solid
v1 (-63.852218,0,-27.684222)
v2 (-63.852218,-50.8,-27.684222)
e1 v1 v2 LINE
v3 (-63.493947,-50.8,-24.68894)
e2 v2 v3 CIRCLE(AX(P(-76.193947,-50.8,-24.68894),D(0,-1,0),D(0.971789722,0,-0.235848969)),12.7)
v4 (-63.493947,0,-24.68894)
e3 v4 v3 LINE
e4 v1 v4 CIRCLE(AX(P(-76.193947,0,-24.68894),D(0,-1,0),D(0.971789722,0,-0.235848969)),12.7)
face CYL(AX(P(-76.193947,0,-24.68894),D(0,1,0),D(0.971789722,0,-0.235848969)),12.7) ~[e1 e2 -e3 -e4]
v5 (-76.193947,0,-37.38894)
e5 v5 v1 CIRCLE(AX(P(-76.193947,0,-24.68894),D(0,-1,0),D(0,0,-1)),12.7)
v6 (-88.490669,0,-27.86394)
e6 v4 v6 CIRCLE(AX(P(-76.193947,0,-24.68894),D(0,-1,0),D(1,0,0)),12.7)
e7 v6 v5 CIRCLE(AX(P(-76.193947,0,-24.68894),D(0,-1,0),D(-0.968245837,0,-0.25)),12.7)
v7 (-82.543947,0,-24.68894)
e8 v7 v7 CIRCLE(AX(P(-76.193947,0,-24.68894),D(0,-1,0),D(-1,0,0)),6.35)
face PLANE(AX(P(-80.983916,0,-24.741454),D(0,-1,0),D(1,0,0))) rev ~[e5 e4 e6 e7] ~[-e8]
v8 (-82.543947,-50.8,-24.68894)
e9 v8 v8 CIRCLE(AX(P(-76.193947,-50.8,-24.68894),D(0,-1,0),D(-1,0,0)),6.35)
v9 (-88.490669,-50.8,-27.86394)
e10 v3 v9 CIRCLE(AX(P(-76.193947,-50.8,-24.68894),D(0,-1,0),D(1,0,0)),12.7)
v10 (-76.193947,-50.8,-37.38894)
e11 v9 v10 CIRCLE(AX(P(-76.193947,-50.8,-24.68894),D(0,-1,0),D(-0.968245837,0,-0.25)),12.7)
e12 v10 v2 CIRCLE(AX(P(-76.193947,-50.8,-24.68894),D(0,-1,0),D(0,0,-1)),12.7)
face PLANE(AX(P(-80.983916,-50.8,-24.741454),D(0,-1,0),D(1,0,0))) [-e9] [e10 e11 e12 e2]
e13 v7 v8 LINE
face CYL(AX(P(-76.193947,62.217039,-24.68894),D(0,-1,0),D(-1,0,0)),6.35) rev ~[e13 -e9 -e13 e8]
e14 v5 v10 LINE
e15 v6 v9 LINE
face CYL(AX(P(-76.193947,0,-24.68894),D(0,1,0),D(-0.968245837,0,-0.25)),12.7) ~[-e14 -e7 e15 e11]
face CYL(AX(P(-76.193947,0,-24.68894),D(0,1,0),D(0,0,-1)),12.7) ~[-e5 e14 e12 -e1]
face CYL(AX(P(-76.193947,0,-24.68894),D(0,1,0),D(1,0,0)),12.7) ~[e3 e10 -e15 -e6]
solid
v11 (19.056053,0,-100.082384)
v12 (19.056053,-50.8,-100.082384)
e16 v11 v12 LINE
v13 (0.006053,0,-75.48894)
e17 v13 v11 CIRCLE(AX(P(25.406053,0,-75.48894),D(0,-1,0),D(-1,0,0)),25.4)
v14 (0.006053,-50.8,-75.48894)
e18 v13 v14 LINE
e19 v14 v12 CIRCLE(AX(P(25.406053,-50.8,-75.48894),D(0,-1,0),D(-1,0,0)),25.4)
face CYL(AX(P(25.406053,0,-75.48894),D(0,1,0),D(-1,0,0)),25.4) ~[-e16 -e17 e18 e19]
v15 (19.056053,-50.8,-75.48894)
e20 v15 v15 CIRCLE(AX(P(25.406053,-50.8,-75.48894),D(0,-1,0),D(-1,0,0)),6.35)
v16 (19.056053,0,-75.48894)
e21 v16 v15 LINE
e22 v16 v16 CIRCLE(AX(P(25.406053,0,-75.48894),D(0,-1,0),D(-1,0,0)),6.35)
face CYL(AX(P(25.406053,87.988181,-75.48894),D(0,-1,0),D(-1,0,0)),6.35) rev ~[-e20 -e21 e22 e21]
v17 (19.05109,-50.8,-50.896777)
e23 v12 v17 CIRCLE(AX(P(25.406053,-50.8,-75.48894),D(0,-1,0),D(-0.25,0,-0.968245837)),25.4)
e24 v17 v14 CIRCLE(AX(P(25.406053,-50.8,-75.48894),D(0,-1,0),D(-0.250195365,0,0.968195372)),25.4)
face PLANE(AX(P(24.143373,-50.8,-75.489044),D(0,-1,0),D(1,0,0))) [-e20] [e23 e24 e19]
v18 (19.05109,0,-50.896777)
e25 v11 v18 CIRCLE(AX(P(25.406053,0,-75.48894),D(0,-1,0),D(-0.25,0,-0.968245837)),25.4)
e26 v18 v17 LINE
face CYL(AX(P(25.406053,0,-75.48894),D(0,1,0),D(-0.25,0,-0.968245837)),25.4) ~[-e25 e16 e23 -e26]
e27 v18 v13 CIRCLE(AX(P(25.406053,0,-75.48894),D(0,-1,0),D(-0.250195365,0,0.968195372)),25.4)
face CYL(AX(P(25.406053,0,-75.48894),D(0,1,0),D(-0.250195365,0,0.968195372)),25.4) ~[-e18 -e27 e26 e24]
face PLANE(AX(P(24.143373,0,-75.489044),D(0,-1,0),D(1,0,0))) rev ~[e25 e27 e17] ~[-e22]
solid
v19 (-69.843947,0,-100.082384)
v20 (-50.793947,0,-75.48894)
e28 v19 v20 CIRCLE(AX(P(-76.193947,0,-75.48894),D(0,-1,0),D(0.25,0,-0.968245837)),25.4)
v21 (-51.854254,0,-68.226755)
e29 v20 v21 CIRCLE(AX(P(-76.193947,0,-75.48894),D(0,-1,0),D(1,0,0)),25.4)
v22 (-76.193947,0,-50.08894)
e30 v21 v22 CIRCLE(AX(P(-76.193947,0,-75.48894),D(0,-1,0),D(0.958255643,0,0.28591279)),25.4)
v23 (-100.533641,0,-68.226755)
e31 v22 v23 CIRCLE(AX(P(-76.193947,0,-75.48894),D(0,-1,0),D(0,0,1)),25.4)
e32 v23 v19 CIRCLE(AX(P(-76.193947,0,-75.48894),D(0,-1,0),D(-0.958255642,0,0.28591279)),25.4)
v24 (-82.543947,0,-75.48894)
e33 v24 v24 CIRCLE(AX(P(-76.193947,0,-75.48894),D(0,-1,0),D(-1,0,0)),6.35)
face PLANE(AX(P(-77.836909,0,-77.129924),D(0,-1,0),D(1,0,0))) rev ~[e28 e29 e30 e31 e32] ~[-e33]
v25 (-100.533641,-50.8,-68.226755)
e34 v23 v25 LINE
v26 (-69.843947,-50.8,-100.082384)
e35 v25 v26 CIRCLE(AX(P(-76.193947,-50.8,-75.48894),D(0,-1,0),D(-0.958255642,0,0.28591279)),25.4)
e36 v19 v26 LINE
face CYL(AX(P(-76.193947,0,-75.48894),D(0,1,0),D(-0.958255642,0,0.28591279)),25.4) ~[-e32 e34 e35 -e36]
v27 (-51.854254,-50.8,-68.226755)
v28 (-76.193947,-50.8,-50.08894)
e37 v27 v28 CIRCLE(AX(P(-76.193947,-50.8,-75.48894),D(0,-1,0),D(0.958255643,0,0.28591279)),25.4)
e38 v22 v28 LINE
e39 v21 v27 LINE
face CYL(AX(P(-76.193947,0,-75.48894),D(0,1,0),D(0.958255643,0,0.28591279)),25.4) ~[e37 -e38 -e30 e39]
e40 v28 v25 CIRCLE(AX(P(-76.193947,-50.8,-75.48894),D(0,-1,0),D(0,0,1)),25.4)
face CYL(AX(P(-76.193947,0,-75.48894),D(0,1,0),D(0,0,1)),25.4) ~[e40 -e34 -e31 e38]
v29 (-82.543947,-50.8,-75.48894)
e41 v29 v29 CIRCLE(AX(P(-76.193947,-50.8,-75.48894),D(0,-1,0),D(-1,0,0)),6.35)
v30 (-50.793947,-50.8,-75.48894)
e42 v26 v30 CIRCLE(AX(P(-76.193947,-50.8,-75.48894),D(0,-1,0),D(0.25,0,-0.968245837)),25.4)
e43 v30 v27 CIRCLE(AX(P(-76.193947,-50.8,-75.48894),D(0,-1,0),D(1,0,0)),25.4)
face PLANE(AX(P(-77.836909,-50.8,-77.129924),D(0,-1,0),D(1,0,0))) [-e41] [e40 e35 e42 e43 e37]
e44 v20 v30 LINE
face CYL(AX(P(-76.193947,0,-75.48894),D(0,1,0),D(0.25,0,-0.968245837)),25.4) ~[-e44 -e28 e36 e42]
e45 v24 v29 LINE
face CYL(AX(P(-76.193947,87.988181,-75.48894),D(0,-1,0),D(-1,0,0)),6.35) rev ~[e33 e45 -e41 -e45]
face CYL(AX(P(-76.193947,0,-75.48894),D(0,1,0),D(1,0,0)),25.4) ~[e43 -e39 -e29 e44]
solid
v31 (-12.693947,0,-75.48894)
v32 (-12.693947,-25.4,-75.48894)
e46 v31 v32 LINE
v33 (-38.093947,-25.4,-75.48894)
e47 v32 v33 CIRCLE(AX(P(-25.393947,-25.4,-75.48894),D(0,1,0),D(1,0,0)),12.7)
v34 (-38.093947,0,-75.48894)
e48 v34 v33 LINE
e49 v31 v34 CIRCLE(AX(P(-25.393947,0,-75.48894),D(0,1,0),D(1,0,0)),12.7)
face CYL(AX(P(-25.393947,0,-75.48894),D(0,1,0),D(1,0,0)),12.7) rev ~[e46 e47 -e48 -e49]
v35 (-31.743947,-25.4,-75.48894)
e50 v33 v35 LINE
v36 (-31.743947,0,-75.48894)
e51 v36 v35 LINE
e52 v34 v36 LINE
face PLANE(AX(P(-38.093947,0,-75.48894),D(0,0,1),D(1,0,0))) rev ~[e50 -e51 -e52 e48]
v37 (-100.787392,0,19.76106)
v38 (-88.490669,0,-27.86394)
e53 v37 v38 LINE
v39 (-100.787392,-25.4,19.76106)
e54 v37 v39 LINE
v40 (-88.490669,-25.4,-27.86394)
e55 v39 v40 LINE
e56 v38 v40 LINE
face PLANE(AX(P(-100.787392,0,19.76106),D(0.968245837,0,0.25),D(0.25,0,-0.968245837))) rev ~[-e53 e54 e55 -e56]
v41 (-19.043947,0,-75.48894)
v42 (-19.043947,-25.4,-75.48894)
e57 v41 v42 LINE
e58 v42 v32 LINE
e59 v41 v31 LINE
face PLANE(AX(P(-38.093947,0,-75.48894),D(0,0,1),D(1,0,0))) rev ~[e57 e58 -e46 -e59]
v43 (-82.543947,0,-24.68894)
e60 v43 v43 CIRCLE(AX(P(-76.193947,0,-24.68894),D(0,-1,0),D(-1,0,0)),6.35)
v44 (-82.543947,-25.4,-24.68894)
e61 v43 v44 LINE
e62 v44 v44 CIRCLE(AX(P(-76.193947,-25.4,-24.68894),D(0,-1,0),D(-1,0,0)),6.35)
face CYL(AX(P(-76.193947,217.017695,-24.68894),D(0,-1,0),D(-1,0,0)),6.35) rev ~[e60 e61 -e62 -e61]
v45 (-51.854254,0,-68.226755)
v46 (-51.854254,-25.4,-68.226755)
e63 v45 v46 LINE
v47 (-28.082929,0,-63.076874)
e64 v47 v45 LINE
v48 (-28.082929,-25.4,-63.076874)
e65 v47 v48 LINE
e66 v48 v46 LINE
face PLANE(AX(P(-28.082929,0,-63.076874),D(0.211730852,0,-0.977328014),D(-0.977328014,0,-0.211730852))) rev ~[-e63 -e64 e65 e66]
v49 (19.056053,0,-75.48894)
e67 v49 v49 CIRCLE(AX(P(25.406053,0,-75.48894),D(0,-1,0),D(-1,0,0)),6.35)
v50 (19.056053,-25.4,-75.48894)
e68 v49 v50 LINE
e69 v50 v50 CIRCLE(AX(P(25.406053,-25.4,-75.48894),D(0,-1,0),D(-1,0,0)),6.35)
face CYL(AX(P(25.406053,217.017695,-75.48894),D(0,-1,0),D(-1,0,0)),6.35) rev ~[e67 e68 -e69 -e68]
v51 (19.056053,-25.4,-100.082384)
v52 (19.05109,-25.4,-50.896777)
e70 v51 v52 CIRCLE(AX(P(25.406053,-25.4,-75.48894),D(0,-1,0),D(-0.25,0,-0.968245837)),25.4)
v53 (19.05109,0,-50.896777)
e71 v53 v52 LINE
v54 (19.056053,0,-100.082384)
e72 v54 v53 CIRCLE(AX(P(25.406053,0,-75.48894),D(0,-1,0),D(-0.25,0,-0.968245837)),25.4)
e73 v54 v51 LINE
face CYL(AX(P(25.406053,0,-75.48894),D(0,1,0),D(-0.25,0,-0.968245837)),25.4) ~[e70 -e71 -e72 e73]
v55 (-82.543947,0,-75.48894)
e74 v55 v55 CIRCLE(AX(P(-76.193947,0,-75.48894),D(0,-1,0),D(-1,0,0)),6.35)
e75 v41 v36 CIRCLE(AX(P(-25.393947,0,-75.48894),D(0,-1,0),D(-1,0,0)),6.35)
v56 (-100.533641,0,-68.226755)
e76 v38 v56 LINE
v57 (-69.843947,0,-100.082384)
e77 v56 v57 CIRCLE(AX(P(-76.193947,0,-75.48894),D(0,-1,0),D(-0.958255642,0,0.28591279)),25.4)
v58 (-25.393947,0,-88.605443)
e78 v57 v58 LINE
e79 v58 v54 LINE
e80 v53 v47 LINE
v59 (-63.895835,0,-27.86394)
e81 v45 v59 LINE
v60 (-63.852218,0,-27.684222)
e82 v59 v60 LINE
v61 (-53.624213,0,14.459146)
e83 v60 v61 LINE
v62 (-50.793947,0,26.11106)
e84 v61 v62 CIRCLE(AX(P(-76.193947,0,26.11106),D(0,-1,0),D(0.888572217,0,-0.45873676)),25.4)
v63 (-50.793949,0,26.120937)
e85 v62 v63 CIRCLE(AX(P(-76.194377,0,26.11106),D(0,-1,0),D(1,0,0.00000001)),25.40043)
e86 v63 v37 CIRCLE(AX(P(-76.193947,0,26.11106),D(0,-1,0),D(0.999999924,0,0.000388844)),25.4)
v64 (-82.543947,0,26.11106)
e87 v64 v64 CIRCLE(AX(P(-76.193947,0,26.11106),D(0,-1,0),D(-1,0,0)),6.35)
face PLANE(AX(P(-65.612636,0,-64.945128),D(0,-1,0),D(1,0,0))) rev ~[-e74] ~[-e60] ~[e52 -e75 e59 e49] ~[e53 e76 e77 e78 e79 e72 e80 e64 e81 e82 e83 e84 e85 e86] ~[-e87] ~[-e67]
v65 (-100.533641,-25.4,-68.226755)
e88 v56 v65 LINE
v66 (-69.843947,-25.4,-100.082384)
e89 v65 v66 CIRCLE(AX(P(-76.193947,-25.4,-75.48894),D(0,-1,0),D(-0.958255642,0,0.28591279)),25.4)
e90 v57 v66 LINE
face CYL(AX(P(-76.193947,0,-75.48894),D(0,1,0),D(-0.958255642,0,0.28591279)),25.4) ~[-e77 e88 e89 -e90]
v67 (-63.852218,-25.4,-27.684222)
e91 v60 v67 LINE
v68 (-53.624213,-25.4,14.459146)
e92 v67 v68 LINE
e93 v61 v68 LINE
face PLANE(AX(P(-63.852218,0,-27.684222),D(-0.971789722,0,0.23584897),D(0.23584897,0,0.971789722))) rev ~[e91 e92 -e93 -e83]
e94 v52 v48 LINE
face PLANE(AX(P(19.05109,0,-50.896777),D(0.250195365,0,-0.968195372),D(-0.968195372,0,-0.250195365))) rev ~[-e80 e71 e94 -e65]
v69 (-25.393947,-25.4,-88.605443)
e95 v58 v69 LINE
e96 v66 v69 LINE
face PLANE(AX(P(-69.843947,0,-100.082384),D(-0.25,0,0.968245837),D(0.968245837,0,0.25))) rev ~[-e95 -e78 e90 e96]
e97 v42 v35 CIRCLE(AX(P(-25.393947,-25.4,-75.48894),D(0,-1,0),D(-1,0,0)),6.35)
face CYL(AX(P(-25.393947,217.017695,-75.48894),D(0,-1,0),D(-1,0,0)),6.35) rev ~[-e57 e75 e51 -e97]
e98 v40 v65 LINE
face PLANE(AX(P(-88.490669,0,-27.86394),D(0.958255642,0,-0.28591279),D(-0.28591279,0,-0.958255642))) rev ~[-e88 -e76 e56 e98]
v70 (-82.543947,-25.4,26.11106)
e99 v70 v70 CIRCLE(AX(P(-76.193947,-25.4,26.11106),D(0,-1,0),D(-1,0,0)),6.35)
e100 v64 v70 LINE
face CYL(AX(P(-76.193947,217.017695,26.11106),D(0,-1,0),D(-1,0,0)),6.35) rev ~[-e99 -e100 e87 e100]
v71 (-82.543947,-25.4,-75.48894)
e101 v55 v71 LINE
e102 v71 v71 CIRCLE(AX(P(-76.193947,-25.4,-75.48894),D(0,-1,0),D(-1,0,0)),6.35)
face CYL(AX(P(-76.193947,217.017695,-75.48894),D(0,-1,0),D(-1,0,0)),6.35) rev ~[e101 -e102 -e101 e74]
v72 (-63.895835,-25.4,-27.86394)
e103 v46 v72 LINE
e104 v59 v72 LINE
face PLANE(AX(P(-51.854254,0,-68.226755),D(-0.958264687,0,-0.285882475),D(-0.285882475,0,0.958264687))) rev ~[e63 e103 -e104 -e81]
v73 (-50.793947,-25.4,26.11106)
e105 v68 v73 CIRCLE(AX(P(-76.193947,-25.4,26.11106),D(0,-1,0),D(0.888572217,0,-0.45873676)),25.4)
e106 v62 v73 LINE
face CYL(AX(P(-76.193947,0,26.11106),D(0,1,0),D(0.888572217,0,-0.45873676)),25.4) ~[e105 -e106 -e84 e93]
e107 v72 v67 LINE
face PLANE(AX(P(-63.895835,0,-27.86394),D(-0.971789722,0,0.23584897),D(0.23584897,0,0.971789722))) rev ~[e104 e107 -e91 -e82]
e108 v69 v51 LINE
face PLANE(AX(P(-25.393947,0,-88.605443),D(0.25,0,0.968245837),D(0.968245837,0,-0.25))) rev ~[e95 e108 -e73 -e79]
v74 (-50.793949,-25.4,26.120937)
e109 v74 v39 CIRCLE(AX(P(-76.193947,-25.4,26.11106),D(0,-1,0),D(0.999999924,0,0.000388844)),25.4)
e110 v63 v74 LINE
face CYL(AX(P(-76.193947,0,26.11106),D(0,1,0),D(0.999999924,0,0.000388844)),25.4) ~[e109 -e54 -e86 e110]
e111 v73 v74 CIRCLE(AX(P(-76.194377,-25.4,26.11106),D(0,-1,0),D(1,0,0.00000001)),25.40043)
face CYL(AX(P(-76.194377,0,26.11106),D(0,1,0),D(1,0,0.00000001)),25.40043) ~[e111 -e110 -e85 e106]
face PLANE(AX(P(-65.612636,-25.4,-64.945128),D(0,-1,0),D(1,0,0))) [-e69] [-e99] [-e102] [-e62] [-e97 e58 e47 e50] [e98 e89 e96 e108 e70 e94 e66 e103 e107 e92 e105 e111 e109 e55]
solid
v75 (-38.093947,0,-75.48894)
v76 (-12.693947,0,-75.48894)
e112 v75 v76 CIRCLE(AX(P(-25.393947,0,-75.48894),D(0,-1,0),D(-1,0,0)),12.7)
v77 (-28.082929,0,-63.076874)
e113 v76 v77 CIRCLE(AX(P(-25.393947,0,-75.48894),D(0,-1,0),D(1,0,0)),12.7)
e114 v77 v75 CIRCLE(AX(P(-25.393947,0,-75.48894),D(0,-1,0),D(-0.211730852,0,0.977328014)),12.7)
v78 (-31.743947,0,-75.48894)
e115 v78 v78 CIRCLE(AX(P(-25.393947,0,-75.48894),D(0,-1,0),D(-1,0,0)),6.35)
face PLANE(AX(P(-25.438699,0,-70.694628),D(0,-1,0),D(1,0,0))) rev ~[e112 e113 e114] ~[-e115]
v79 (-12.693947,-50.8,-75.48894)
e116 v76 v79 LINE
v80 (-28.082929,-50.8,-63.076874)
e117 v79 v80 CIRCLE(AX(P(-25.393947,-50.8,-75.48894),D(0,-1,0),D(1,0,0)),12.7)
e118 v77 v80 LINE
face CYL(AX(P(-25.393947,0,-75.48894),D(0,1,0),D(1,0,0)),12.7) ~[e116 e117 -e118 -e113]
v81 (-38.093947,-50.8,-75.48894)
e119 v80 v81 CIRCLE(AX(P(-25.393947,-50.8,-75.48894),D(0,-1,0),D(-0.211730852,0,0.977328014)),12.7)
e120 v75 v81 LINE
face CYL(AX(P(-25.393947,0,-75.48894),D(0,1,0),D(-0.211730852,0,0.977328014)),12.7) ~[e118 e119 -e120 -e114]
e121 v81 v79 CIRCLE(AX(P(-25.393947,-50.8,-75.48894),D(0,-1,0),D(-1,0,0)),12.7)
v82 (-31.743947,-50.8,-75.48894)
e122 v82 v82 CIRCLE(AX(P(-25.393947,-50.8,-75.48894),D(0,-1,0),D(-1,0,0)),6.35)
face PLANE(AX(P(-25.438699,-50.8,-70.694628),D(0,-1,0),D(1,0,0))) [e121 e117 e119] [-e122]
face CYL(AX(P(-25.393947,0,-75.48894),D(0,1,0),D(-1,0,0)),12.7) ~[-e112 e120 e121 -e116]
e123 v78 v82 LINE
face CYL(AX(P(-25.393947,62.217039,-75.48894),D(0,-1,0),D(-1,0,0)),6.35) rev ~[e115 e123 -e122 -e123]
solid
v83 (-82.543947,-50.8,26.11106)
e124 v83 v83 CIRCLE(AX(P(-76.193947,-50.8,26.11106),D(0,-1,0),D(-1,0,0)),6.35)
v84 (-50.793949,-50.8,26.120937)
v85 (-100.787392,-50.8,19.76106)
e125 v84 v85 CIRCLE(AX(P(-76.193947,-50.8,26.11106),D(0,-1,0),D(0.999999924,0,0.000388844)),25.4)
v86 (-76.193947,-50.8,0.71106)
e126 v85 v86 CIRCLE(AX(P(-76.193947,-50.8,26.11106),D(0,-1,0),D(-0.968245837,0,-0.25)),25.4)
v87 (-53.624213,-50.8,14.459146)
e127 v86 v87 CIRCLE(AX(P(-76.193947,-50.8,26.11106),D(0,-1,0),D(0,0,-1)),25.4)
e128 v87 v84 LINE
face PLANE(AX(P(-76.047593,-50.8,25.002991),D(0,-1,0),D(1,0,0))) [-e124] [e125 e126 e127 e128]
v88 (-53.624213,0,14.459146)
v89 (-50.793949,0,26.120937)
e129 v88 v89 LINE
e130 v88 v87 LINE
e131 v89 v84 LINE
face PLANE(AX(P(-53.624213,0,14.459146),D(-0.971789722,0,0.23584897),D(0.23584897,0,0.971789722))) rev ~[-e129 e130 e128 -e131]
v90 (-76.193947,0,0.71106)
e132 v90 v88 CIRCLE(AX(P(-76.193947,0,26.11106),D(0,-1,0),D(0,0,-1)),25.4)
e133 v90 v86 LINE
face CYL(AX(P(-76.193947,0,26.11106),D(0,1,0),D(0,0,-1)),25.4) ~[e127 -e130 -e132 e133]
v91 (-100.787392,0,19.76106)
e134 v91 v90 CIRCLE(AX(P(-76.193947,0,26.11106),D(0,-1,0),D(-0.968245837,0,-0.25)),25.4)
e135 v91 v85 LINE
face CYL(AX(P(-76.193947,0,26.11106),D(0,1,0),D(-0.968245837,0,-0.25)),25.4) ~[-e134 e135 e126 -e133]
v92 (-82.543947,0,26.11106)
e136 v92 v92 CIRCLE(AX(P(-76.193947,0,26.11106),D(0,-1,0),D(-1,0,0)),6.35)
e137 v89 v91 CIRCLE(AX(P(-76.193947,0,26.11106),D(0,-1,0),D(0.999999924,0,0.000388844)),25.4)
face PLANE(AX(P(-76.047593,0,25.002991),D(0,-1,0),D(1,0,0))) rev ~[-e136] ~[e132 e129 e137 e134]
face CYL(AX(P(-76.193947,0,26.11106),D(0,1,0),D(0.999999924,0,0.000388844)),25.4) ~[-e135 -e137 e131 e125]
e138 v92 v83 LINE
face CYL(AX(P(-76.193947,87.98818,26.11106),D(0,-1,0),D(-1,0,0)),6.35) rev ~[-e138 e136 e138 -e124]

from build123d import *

# Parameters (mm, degrees)
F1_DEPTH = 50.8
F2_DEPTH = 25.4
F3_D     = 12.7
F3_2_D   = 12.7
F3_3_D   = 12.7
F3_4_D   = 12.7
F3_5_D   = 12.7
F3_6_D   = 12.7


with BuildPart() as f1:
    # F0 (on Front) → F1 (new body)
    with BuildSketch(Plane.XZ):
        with BuildLine():
            ThreePointArc((-50.7939492653, 26.1209367481), (-79.3993552685, 51.3079916788), (-100.7873915934, 19.7610601187))
            ThreePointArc((-100.7873915934, 19.7610601187), (-91.7482072117, 6.0305969766), (-76.193947345, 0.7110601187))
            ThreePointArc((-76.193947345, 0.7110601187), (-62.9802916851, 4.4186811781), (-53.6242130328, 14.45914641))
            Line((-53.6242130328, 14.45914641), (-50.7939492653, 26.1209367481))
        make_face()
    extrude(amount=F1_DEPTH)

    # F3 (through all)
    with Locations(Plane(origin=(0, 0, 0), x_dir=(1, 0, 0), z_dir=(0, 1, 0))):
        with Locations((-76.193947345, -26.1110601187), (-76.193947345, 24.6889398813), (-76.193947345, 75.4889398813), (-25.393947345, 75.4889398813), (25.406052655, 75.4889398813)):
            Hole(F3_D / 2)


with BuildPart() as f1b:
    # F0 (on Front) → F1, piece 2 (new body)
    with BuildSketch(Plane.XZ):
        with BuildLine():
            ThreePointArc((-88.4906694692, -27.8639398813), (-83.9710772784, -34.7291714524), (-76.193947345, -37.3889398813))
            Line((-76.193947345, -37.3889398813), (-76.193947345, -24.6889398813))
            Line((-76.193947345, -24.6889398813), (-76.193947345, -11.9889398813))
            ThreePointArc((-76.193947345, -11.9889398813), (-86.2341789161, -16.911809948), (-88.4906694692, -27.8639398813))
        make_face()
        with BuildLine():
            Line((-76.193947345, -24.6889398813), (-76.193947345, -37.3889398813))
            ThreePointArc((-76.193947345, -37.3889398813), (-68.3437906638, -34.6721778371), (-63.8522178745, -27.6842217838))
            ThreePointArc((-63.8522178745, -27.6842217838), (-63.5838330657, -26.1972561154), (-63.493947345, -24.6889398813))
            ThreePointArc((-63.493947345, -24.6889398813), (-67.2136912239, -15.7086837603), (-76.193947345, -11.9889398813))
            Line((-76.193947345, -11.9889398813), (-76.193947345, -24.6889398813))
        make_face()
    extrude(amount=F1_DEPTH)

    # F3#2 (through all)
    with Locations(Plane(origin=(0, 0, 0), x_dir=(1, 0, 0), z_dir=(0, 1, 0))):
        with Locations((-76.193947345, -26.1110601187), (-76.193947345, 24.6889398813), (-76.193947345, 75.4889398813), (-25.393947345, 75.4889398813), (25.406052655, 75.4889398813)):
            Hole(F3_2_D / 2)


with BuildPart() as f1c:
    # F0 (on Front) → F1, piece 3 (new body)
    with BuildSketch(Plane.XZ):
        with BuildLine():
            Line((-50.793947345, -75.4889398813), (-76.193947345, -75.4889398813))
            Line((-76.193947345, -75.4889398813), (-76.193947345, -50.0889398813))
            ThreePointArc((-76.193947345, -50.0889398813), (-91.3712413096, -55.122061183), (-100.5336406636, -68.2267550063))
            ThreePointArc((-100.5336406636, -68.2267550063), (-94.4860916462, -93.1115803436), (-69.843947345, -100.0823841297))
            ThreePointArc((-69.843947345, -100.0823841297), (-56.1134842029, -91.043199748), (-50.793947345, -75.4889398813))
        make_face()
        with BuildLine():
            Line((-76.193947345, -50.0889398813), (-76.193947345, -75.4889398813))
            Line((-76.193947345, -75.4889398813), (-50.793947345, -75.4889398813))
            ThreePointArc((-50.793947345, -75.4889398813), (-51.0604218231, -71.8193493264), (-51.8542540254, -68.2267550099))
            ThreePointArc((-51.8542540254, -68.2267550099), (-61.0166533789, -55.1220611841), (-76.193947345, -50.0889398813))
        make_face()
    extrude(amount=F1_DEPTH)

    # F3#3 (through all)
    with Locations(Plane(origin=(0, 0, 0), x_dir=(1, 0, 0), z_dir=(0, 1, 0))):
        with Locations((-76.193947345, -26.1110601187), (-76.193947345, 24.6889398813), (-76.193947345, 75.4889398813), (-25.393947345, 75.4889398813), (25.406052655, 75.4889398813)):
            Hole(F3_3_D / 2)


with BuildPart() as f1d:
    # F0 (on Front) → F1, piece 4 (new body)
    with BuildSketch(Plane.XZ):
        with BuildLine():
            ThreePointArc((-28.0829291685, -63.0768741083), (-35.279291779, -67.5158623437), (-38.093947345, -75.4889398813))
            Line((-38.093947345, -75.4889398813), (-25.393947345, -75.4889398813))
            Line((-25.393947345, -75.4889398813), (-12.693947345, -75.4889398813))
            ThreePointArc((-12.693947345, -75.4889398813), (-17.4208698074, -65.6035954473), (-28.0829291685, -63.0768741083))
        make_face()
        with BuildLine():
            Line((-25.393947345, -75.4889398813), (-38.093947345, -75.4889398813))
            ThreePointArc((-38.093947345, -75.4889398813), (-25.393947345, -88.1889398813), (-12.693947345, -75.4889398813))
            Line((-12.693947345, -75.4889398813), (-25.393947345, -75.4889398813))
        make_face()
    extrude(amount=F1_DEPTH)

    # F3#4 (through all)
    with Locations(Plane(origin=(0, 0, 0), x_dir=(1, 0, 0), z_dir=(0, 1, 0))):
        with Locations((-76.193947345, -26.1110601187), (-76.193947345, 24.6889398813), (-76.193947345, 75.4889398813), (-25.393947345, 75.4889398813), (25.406052655, 75.4889398813)):
            Hole(F3_4_D / 2)


with BuildPart() as f1e:
    # F0 (on Front) → F1, piece 5 (new body)
    with BuildSketch(Plane.XZ):
        with BuildLine():
            ThreePointArc((50.806052655, -75.4889398813), (40.958286546, -55.4069075888), (19.0510903716, -50.896777423))
            ThreePointArc((19.0510903716, -50.896777423), (5.3240203624, -59.9367059903), (0.006052655, -75.4889398813))
            ThreePointArc((0.006052655, -75.4889398813), (5.3255895129, -91.043199748), (19.056052655, -100.0823841297))
            ThreePointArc((19.056052655, -100.0823841297), (40.9603125217, -95.5694030234), (50.806052655, -75.4889398813))
        make_face()
    extrude(amount=F1_DEPTH)

    # F3#5 (through all)
    with Locations(Plane(origin=(0, 0, 0), x_dir=(1, 0, 0), z_dir=(0, 1, 0))):
        with Locations((-76.193947345, -26.1110601187), (-76.193947345, 24.6889398813), (-76.193947345, 75.4889398813), (-25.393947345, 75.4889398813), (25.406052655, 75.4889398813)):
            Hole(F3_5_D / 2)


with BuildPart() as f2:
    # F0 (on Front) → F2 (new body)
    with BuildSketch(Plane.XZ):
        with BuildLine():
            Line((-76.193947345, -50.0889398813), (-76.193947345, -75.4889398813))
            Line((-76.193947345, -75.4889398813), (-50.793947345, -75.4889398813))
            ThreePointArc((-50.793947345, -75.4889398813), (-51.0604218231, -71.8193493264), (-51.8542540254, -68.2267550099))
            ThreePointArc((-51.8542540254, -68.2267550099), (-61.0166533789, -55.1220611841), (-76.193947345, -50.0889398813))
        make_face()
        with BuildLine():
            Line((-50.793947345, -75.4889398813), (-76.193947345, -75.4889398813))
            Line((-76.193947345, -75.4889398813), (-76.193947345, -50.0889398813))
            ThreePointArc((-76.193947345, -50.0889398813), (-91.3712413096, -55.122061183), (-100.5336406636, -68.2267550063))
            ThreePointArc((-100.5336406636, -68.2267550063), (-94.4860916462, -93.1115803436), (-69.843947345, -100.0823841297))
            ThreePointArc((-69.843947345, -100.0823841297), (-56.1134842029, -91.043199748), (-50.793947345, -75.4889398813))
        make_face()
        with BuildLine():
            ThreePointArc((-51.8542540254, -68.2267550099), (-51.0604218231, -71.8193493264), (-50.793947345, -75.4889398813))
            Line((-50.793947345, -75.4889398813), (-38.093947345, -75.4889398813))
            ThreePointArc((-38.093947345, -75.4889398813), (-35.279291779, -67.5158623437), (-28.0829291685, -63.0768741083))
            Line((-28.0829291685, -63.0768741083), (-51.8542540132, -68.2267550063))
        make_face()
        with BuildLine():
            Line((-38.093947345, -75.4889398813), (-50.793947345, -75.4889398813))
            ThreePointArc((-50.793947345, -75.4889398813), (-56.1134842029, -91.043199748), (-69.843947345, -100.0823841297))
            Line((-69.843947345, -100.0823841297), (-25.393947345, -88.6054434805))
            Line((-25.393947345, -88.6054434805), (19.056052655, -100.0823841297))
            ThreePointArc((19.056052655, -100.0823841297), (5.3255895129, -91.043199748), (0.006052655, -75.4889398813))
            Line((0.006052655, -75.4889398813), (-12.693947345, -75.4889398813))
            ThreePointArc((-12.693947345, -75.4889398813), (-25.393947345, -88.1889398813), (-38.093947345, -75.4889398813))
        make_face()
        with BuildLine():
            ThreePointArc((-100.5336406636, -68.2267550063), (-91.3712413096, -55.122061183), (-76.193947345, -50.0889398813))
            Line((-76.193947345, -50.0889398813), (-76.193947345, -37.3889398813))
            ThreePointArc((-76.193947345, -37.3889398813), (-83.9710772784, -34.7291714524), (-88.4906694692, -27.8639398813))
            Line((-88.4906694692, -27.8639398813), (-100.5336406636, -68.2267550063))
        make_face()
        with BuildLine():
            Line((-76.193947345, -37.3889398813), (-76.193947345, -50.0889398813))
            ThreePointArc((-76.193947345, -50.0889398813), (-61.0166533789, -55.1220611841), (-51.8542540254, -68.2267550099))
            Line((-51.8542540132, -68.2267550063), (-63.8958346438, -27.8639398813))
            Line((-63.8958346438, -27.8639398813), (-63.8522178745, -27.6842217838))
            ThreePointArc((-63.8522178745, -27.6842217838), (-68.3437906638, -34.6721778371), (-76.193947345, -37.3889398813))
        make_face()
        with BuildLine():
            ThreePointArc((-28.0829291685, -63.0768741083), (-35.279291779, -67.5158623437), (-38.093947345, -75.4889398813))
            Line((-38.093947345, -75.4889398813), (-25.393947345, -75.4889398813))
            Line((-25.393947345, -75.4889398813), (-12.693947345, -75.4889398813))
            ThreePointArc((-12.693947345, -75.4889398813), (-17.4208698074, -65.6035954473), (-28.0829291685, -63.0768741083))
        make_face()
        with BuildLine():
            ThreePointArc((-88.4906694692, -27.8639398813), (-83.9710772784, -34.7291714524), (-76.193947345, -37.3889398813))
            Line((-76.193947345, -37.3889398813), (-76.193947345, -24.6889398813))
            Line((-76.193947345, -24.6889398813), (-76.193947345, -11.9889398813))
            ThreePointArc((-76.193947345, -11.9889398813), (-86.2341789161, -16.911809948), (-88.4906694692, -27.8639398813))
        make_face()
        with BuildLine():
            Line((-76.193947345, -24.6889398813), (-76.193947345, -37.3889398813))
            ThreePointArc((-76.193947345, -37.3889398813), (-68.3437906638, -34.6721778371), (-63.8522178745, -27.6842217838))
            ThreePointArc((-63.8522178745, -27.6842217838), (-63.5838330657, -26.1972561154), (-63.493947345, -24.6889398813))
            ThreePointArc((-63.493947345, -24.6889398813), (-67.2136912239, -15.7086837603), (-76.193947345, -11.9889398813))
            Line((-76.193947345, -11.9889398813), (-76.193947345, -24.6889398813))
        make_face()
        with BuildLine():
            Line((19.0510903716, -50.896777423), (-28.0829291685, -63.0768741083))
            ThreePointArc((-28.0829291685, -63.0768741083), (-17.4208698074, -65.6035954473), (-12.693947345, -75.4889398813))
            Line((-12.693947345, -75.4889398813), (0.006052655, -75.4889398813))
            ThreePointArc((0.006052655, -75.4889398813), (5.3240203624, -59.9367059903), (19.0510903716, -50.896777423))
        make_face()
        with BuildLine():
            Line((-100.7873915934, 19.7610601187), (-88.4906694692, -27.8639398813))
            ThreePointArc((-88.4906694692, -27.8639398813), (-86.2341789161, -16.911809948), (-76.193947345, -11.9889398813))
            Line((-76.193947345, -11.9889398813), (-76.193947345, 0.7110601187))
            ThreePointArc((-76.193947345, 0.7110601187), (-91.7482072117, 6.0305969766), (-100.7873915934, 19.7610601187))
        make_face()
        with BuildLine():
            ThreePointArc((-63.493947345, -24.6889398813), (-63.5838330657, -26.1972561154), (-63.8522178745, -27.6842217838))
            Line((-63.8522178745, -27.6842217838), (-53.6242130328, 14.45914641))
            ThreePointArc((-53.6242130328, 14.45914641), (-62.9802916851, 4.4186811781), (-76.193947345, 0.7110601187))
            Line((-76.193947345, 0.7110601187), (-76.193947345, -11.9889398813))
            ThreePointArc((-76.193947345, -11.9889398813), (-67.2136912239, -15.7086837603), (-63.493947345, -24.6889398813))
        make_face()
        with BuildLine():
            ThreePointArc((50.806052655, -75.4889398813), (40.958286546, -55.4069075888), (19.0510903716, -50.896777423))
            ThreePointArc((19.0510903716, -50.896777423), (5.3240203624, -59.9367059903), (0.006052655, -75.4889398813))
            ThreePointArc((0.006052655, -75.4889398813), (5.3255895129, -91.043199748), (19.056052655, -100.0823841297))
            ThreePointArc((19.056052655, -100.0823841297), (40.9603125217, -95.5694030234), (50.806052655, -75.4889398813))
        make_face()
        with BuildLine():
            ThreePointArc((-50.7939492653, 26.1209367481), (-79.3993552685, 51.3079916788), (-100.7873915934, 19.7610601187))
            ThreePointArc((-100.7873915934, 19.7610601187), (-91.7482072117, 6.0305969766), (-76.193947345, 0.7110601187))
            ThreePointArc((-76.193947345, 0.7110601187), (-62.9802916851, 4.4186811781), (-53.6242130328, 14.45914641))
            Line((-53.6242130328, 14.45914641), (-50.7939492653, 26.1209367481))
        make_face()
        with BuildLine():
            Line((-50.7939492653, 26.1209367481), (-53.6242130328, 14.45914641))
            ThreePointArc((-53.6242130328, 14.45914641), (-51.5116535747, 20.1156973911), (-50.793947345, 26.1110601187))
            ThreePointArc((-50.793947345, 26.1110601187), (-50.7939478251, 26.1159984335), (-50.7939492653, 26.1209367481))
        make_face()
    extrude(amount=F2_DEPTH)

    # F3#6 (through all)
    with Locations(Plane(origin=(0, 0, 0), x_dir=(1, 0, 0), z_dir=(0, 1, 0))):
        with Locations((-76.193947345, -26.1110601187), (-76.193947345, 24.6889398813), (-76.193947345, 75.4889398813), (-25.393947345, 75.4889398813), (25.406052655, 75.4889398813)):
            Hole(F3_6_D / 2)


solid = Compound([f1.part, f1b.part, f1c.part, f1d.part, f1e.part, f2.part])
